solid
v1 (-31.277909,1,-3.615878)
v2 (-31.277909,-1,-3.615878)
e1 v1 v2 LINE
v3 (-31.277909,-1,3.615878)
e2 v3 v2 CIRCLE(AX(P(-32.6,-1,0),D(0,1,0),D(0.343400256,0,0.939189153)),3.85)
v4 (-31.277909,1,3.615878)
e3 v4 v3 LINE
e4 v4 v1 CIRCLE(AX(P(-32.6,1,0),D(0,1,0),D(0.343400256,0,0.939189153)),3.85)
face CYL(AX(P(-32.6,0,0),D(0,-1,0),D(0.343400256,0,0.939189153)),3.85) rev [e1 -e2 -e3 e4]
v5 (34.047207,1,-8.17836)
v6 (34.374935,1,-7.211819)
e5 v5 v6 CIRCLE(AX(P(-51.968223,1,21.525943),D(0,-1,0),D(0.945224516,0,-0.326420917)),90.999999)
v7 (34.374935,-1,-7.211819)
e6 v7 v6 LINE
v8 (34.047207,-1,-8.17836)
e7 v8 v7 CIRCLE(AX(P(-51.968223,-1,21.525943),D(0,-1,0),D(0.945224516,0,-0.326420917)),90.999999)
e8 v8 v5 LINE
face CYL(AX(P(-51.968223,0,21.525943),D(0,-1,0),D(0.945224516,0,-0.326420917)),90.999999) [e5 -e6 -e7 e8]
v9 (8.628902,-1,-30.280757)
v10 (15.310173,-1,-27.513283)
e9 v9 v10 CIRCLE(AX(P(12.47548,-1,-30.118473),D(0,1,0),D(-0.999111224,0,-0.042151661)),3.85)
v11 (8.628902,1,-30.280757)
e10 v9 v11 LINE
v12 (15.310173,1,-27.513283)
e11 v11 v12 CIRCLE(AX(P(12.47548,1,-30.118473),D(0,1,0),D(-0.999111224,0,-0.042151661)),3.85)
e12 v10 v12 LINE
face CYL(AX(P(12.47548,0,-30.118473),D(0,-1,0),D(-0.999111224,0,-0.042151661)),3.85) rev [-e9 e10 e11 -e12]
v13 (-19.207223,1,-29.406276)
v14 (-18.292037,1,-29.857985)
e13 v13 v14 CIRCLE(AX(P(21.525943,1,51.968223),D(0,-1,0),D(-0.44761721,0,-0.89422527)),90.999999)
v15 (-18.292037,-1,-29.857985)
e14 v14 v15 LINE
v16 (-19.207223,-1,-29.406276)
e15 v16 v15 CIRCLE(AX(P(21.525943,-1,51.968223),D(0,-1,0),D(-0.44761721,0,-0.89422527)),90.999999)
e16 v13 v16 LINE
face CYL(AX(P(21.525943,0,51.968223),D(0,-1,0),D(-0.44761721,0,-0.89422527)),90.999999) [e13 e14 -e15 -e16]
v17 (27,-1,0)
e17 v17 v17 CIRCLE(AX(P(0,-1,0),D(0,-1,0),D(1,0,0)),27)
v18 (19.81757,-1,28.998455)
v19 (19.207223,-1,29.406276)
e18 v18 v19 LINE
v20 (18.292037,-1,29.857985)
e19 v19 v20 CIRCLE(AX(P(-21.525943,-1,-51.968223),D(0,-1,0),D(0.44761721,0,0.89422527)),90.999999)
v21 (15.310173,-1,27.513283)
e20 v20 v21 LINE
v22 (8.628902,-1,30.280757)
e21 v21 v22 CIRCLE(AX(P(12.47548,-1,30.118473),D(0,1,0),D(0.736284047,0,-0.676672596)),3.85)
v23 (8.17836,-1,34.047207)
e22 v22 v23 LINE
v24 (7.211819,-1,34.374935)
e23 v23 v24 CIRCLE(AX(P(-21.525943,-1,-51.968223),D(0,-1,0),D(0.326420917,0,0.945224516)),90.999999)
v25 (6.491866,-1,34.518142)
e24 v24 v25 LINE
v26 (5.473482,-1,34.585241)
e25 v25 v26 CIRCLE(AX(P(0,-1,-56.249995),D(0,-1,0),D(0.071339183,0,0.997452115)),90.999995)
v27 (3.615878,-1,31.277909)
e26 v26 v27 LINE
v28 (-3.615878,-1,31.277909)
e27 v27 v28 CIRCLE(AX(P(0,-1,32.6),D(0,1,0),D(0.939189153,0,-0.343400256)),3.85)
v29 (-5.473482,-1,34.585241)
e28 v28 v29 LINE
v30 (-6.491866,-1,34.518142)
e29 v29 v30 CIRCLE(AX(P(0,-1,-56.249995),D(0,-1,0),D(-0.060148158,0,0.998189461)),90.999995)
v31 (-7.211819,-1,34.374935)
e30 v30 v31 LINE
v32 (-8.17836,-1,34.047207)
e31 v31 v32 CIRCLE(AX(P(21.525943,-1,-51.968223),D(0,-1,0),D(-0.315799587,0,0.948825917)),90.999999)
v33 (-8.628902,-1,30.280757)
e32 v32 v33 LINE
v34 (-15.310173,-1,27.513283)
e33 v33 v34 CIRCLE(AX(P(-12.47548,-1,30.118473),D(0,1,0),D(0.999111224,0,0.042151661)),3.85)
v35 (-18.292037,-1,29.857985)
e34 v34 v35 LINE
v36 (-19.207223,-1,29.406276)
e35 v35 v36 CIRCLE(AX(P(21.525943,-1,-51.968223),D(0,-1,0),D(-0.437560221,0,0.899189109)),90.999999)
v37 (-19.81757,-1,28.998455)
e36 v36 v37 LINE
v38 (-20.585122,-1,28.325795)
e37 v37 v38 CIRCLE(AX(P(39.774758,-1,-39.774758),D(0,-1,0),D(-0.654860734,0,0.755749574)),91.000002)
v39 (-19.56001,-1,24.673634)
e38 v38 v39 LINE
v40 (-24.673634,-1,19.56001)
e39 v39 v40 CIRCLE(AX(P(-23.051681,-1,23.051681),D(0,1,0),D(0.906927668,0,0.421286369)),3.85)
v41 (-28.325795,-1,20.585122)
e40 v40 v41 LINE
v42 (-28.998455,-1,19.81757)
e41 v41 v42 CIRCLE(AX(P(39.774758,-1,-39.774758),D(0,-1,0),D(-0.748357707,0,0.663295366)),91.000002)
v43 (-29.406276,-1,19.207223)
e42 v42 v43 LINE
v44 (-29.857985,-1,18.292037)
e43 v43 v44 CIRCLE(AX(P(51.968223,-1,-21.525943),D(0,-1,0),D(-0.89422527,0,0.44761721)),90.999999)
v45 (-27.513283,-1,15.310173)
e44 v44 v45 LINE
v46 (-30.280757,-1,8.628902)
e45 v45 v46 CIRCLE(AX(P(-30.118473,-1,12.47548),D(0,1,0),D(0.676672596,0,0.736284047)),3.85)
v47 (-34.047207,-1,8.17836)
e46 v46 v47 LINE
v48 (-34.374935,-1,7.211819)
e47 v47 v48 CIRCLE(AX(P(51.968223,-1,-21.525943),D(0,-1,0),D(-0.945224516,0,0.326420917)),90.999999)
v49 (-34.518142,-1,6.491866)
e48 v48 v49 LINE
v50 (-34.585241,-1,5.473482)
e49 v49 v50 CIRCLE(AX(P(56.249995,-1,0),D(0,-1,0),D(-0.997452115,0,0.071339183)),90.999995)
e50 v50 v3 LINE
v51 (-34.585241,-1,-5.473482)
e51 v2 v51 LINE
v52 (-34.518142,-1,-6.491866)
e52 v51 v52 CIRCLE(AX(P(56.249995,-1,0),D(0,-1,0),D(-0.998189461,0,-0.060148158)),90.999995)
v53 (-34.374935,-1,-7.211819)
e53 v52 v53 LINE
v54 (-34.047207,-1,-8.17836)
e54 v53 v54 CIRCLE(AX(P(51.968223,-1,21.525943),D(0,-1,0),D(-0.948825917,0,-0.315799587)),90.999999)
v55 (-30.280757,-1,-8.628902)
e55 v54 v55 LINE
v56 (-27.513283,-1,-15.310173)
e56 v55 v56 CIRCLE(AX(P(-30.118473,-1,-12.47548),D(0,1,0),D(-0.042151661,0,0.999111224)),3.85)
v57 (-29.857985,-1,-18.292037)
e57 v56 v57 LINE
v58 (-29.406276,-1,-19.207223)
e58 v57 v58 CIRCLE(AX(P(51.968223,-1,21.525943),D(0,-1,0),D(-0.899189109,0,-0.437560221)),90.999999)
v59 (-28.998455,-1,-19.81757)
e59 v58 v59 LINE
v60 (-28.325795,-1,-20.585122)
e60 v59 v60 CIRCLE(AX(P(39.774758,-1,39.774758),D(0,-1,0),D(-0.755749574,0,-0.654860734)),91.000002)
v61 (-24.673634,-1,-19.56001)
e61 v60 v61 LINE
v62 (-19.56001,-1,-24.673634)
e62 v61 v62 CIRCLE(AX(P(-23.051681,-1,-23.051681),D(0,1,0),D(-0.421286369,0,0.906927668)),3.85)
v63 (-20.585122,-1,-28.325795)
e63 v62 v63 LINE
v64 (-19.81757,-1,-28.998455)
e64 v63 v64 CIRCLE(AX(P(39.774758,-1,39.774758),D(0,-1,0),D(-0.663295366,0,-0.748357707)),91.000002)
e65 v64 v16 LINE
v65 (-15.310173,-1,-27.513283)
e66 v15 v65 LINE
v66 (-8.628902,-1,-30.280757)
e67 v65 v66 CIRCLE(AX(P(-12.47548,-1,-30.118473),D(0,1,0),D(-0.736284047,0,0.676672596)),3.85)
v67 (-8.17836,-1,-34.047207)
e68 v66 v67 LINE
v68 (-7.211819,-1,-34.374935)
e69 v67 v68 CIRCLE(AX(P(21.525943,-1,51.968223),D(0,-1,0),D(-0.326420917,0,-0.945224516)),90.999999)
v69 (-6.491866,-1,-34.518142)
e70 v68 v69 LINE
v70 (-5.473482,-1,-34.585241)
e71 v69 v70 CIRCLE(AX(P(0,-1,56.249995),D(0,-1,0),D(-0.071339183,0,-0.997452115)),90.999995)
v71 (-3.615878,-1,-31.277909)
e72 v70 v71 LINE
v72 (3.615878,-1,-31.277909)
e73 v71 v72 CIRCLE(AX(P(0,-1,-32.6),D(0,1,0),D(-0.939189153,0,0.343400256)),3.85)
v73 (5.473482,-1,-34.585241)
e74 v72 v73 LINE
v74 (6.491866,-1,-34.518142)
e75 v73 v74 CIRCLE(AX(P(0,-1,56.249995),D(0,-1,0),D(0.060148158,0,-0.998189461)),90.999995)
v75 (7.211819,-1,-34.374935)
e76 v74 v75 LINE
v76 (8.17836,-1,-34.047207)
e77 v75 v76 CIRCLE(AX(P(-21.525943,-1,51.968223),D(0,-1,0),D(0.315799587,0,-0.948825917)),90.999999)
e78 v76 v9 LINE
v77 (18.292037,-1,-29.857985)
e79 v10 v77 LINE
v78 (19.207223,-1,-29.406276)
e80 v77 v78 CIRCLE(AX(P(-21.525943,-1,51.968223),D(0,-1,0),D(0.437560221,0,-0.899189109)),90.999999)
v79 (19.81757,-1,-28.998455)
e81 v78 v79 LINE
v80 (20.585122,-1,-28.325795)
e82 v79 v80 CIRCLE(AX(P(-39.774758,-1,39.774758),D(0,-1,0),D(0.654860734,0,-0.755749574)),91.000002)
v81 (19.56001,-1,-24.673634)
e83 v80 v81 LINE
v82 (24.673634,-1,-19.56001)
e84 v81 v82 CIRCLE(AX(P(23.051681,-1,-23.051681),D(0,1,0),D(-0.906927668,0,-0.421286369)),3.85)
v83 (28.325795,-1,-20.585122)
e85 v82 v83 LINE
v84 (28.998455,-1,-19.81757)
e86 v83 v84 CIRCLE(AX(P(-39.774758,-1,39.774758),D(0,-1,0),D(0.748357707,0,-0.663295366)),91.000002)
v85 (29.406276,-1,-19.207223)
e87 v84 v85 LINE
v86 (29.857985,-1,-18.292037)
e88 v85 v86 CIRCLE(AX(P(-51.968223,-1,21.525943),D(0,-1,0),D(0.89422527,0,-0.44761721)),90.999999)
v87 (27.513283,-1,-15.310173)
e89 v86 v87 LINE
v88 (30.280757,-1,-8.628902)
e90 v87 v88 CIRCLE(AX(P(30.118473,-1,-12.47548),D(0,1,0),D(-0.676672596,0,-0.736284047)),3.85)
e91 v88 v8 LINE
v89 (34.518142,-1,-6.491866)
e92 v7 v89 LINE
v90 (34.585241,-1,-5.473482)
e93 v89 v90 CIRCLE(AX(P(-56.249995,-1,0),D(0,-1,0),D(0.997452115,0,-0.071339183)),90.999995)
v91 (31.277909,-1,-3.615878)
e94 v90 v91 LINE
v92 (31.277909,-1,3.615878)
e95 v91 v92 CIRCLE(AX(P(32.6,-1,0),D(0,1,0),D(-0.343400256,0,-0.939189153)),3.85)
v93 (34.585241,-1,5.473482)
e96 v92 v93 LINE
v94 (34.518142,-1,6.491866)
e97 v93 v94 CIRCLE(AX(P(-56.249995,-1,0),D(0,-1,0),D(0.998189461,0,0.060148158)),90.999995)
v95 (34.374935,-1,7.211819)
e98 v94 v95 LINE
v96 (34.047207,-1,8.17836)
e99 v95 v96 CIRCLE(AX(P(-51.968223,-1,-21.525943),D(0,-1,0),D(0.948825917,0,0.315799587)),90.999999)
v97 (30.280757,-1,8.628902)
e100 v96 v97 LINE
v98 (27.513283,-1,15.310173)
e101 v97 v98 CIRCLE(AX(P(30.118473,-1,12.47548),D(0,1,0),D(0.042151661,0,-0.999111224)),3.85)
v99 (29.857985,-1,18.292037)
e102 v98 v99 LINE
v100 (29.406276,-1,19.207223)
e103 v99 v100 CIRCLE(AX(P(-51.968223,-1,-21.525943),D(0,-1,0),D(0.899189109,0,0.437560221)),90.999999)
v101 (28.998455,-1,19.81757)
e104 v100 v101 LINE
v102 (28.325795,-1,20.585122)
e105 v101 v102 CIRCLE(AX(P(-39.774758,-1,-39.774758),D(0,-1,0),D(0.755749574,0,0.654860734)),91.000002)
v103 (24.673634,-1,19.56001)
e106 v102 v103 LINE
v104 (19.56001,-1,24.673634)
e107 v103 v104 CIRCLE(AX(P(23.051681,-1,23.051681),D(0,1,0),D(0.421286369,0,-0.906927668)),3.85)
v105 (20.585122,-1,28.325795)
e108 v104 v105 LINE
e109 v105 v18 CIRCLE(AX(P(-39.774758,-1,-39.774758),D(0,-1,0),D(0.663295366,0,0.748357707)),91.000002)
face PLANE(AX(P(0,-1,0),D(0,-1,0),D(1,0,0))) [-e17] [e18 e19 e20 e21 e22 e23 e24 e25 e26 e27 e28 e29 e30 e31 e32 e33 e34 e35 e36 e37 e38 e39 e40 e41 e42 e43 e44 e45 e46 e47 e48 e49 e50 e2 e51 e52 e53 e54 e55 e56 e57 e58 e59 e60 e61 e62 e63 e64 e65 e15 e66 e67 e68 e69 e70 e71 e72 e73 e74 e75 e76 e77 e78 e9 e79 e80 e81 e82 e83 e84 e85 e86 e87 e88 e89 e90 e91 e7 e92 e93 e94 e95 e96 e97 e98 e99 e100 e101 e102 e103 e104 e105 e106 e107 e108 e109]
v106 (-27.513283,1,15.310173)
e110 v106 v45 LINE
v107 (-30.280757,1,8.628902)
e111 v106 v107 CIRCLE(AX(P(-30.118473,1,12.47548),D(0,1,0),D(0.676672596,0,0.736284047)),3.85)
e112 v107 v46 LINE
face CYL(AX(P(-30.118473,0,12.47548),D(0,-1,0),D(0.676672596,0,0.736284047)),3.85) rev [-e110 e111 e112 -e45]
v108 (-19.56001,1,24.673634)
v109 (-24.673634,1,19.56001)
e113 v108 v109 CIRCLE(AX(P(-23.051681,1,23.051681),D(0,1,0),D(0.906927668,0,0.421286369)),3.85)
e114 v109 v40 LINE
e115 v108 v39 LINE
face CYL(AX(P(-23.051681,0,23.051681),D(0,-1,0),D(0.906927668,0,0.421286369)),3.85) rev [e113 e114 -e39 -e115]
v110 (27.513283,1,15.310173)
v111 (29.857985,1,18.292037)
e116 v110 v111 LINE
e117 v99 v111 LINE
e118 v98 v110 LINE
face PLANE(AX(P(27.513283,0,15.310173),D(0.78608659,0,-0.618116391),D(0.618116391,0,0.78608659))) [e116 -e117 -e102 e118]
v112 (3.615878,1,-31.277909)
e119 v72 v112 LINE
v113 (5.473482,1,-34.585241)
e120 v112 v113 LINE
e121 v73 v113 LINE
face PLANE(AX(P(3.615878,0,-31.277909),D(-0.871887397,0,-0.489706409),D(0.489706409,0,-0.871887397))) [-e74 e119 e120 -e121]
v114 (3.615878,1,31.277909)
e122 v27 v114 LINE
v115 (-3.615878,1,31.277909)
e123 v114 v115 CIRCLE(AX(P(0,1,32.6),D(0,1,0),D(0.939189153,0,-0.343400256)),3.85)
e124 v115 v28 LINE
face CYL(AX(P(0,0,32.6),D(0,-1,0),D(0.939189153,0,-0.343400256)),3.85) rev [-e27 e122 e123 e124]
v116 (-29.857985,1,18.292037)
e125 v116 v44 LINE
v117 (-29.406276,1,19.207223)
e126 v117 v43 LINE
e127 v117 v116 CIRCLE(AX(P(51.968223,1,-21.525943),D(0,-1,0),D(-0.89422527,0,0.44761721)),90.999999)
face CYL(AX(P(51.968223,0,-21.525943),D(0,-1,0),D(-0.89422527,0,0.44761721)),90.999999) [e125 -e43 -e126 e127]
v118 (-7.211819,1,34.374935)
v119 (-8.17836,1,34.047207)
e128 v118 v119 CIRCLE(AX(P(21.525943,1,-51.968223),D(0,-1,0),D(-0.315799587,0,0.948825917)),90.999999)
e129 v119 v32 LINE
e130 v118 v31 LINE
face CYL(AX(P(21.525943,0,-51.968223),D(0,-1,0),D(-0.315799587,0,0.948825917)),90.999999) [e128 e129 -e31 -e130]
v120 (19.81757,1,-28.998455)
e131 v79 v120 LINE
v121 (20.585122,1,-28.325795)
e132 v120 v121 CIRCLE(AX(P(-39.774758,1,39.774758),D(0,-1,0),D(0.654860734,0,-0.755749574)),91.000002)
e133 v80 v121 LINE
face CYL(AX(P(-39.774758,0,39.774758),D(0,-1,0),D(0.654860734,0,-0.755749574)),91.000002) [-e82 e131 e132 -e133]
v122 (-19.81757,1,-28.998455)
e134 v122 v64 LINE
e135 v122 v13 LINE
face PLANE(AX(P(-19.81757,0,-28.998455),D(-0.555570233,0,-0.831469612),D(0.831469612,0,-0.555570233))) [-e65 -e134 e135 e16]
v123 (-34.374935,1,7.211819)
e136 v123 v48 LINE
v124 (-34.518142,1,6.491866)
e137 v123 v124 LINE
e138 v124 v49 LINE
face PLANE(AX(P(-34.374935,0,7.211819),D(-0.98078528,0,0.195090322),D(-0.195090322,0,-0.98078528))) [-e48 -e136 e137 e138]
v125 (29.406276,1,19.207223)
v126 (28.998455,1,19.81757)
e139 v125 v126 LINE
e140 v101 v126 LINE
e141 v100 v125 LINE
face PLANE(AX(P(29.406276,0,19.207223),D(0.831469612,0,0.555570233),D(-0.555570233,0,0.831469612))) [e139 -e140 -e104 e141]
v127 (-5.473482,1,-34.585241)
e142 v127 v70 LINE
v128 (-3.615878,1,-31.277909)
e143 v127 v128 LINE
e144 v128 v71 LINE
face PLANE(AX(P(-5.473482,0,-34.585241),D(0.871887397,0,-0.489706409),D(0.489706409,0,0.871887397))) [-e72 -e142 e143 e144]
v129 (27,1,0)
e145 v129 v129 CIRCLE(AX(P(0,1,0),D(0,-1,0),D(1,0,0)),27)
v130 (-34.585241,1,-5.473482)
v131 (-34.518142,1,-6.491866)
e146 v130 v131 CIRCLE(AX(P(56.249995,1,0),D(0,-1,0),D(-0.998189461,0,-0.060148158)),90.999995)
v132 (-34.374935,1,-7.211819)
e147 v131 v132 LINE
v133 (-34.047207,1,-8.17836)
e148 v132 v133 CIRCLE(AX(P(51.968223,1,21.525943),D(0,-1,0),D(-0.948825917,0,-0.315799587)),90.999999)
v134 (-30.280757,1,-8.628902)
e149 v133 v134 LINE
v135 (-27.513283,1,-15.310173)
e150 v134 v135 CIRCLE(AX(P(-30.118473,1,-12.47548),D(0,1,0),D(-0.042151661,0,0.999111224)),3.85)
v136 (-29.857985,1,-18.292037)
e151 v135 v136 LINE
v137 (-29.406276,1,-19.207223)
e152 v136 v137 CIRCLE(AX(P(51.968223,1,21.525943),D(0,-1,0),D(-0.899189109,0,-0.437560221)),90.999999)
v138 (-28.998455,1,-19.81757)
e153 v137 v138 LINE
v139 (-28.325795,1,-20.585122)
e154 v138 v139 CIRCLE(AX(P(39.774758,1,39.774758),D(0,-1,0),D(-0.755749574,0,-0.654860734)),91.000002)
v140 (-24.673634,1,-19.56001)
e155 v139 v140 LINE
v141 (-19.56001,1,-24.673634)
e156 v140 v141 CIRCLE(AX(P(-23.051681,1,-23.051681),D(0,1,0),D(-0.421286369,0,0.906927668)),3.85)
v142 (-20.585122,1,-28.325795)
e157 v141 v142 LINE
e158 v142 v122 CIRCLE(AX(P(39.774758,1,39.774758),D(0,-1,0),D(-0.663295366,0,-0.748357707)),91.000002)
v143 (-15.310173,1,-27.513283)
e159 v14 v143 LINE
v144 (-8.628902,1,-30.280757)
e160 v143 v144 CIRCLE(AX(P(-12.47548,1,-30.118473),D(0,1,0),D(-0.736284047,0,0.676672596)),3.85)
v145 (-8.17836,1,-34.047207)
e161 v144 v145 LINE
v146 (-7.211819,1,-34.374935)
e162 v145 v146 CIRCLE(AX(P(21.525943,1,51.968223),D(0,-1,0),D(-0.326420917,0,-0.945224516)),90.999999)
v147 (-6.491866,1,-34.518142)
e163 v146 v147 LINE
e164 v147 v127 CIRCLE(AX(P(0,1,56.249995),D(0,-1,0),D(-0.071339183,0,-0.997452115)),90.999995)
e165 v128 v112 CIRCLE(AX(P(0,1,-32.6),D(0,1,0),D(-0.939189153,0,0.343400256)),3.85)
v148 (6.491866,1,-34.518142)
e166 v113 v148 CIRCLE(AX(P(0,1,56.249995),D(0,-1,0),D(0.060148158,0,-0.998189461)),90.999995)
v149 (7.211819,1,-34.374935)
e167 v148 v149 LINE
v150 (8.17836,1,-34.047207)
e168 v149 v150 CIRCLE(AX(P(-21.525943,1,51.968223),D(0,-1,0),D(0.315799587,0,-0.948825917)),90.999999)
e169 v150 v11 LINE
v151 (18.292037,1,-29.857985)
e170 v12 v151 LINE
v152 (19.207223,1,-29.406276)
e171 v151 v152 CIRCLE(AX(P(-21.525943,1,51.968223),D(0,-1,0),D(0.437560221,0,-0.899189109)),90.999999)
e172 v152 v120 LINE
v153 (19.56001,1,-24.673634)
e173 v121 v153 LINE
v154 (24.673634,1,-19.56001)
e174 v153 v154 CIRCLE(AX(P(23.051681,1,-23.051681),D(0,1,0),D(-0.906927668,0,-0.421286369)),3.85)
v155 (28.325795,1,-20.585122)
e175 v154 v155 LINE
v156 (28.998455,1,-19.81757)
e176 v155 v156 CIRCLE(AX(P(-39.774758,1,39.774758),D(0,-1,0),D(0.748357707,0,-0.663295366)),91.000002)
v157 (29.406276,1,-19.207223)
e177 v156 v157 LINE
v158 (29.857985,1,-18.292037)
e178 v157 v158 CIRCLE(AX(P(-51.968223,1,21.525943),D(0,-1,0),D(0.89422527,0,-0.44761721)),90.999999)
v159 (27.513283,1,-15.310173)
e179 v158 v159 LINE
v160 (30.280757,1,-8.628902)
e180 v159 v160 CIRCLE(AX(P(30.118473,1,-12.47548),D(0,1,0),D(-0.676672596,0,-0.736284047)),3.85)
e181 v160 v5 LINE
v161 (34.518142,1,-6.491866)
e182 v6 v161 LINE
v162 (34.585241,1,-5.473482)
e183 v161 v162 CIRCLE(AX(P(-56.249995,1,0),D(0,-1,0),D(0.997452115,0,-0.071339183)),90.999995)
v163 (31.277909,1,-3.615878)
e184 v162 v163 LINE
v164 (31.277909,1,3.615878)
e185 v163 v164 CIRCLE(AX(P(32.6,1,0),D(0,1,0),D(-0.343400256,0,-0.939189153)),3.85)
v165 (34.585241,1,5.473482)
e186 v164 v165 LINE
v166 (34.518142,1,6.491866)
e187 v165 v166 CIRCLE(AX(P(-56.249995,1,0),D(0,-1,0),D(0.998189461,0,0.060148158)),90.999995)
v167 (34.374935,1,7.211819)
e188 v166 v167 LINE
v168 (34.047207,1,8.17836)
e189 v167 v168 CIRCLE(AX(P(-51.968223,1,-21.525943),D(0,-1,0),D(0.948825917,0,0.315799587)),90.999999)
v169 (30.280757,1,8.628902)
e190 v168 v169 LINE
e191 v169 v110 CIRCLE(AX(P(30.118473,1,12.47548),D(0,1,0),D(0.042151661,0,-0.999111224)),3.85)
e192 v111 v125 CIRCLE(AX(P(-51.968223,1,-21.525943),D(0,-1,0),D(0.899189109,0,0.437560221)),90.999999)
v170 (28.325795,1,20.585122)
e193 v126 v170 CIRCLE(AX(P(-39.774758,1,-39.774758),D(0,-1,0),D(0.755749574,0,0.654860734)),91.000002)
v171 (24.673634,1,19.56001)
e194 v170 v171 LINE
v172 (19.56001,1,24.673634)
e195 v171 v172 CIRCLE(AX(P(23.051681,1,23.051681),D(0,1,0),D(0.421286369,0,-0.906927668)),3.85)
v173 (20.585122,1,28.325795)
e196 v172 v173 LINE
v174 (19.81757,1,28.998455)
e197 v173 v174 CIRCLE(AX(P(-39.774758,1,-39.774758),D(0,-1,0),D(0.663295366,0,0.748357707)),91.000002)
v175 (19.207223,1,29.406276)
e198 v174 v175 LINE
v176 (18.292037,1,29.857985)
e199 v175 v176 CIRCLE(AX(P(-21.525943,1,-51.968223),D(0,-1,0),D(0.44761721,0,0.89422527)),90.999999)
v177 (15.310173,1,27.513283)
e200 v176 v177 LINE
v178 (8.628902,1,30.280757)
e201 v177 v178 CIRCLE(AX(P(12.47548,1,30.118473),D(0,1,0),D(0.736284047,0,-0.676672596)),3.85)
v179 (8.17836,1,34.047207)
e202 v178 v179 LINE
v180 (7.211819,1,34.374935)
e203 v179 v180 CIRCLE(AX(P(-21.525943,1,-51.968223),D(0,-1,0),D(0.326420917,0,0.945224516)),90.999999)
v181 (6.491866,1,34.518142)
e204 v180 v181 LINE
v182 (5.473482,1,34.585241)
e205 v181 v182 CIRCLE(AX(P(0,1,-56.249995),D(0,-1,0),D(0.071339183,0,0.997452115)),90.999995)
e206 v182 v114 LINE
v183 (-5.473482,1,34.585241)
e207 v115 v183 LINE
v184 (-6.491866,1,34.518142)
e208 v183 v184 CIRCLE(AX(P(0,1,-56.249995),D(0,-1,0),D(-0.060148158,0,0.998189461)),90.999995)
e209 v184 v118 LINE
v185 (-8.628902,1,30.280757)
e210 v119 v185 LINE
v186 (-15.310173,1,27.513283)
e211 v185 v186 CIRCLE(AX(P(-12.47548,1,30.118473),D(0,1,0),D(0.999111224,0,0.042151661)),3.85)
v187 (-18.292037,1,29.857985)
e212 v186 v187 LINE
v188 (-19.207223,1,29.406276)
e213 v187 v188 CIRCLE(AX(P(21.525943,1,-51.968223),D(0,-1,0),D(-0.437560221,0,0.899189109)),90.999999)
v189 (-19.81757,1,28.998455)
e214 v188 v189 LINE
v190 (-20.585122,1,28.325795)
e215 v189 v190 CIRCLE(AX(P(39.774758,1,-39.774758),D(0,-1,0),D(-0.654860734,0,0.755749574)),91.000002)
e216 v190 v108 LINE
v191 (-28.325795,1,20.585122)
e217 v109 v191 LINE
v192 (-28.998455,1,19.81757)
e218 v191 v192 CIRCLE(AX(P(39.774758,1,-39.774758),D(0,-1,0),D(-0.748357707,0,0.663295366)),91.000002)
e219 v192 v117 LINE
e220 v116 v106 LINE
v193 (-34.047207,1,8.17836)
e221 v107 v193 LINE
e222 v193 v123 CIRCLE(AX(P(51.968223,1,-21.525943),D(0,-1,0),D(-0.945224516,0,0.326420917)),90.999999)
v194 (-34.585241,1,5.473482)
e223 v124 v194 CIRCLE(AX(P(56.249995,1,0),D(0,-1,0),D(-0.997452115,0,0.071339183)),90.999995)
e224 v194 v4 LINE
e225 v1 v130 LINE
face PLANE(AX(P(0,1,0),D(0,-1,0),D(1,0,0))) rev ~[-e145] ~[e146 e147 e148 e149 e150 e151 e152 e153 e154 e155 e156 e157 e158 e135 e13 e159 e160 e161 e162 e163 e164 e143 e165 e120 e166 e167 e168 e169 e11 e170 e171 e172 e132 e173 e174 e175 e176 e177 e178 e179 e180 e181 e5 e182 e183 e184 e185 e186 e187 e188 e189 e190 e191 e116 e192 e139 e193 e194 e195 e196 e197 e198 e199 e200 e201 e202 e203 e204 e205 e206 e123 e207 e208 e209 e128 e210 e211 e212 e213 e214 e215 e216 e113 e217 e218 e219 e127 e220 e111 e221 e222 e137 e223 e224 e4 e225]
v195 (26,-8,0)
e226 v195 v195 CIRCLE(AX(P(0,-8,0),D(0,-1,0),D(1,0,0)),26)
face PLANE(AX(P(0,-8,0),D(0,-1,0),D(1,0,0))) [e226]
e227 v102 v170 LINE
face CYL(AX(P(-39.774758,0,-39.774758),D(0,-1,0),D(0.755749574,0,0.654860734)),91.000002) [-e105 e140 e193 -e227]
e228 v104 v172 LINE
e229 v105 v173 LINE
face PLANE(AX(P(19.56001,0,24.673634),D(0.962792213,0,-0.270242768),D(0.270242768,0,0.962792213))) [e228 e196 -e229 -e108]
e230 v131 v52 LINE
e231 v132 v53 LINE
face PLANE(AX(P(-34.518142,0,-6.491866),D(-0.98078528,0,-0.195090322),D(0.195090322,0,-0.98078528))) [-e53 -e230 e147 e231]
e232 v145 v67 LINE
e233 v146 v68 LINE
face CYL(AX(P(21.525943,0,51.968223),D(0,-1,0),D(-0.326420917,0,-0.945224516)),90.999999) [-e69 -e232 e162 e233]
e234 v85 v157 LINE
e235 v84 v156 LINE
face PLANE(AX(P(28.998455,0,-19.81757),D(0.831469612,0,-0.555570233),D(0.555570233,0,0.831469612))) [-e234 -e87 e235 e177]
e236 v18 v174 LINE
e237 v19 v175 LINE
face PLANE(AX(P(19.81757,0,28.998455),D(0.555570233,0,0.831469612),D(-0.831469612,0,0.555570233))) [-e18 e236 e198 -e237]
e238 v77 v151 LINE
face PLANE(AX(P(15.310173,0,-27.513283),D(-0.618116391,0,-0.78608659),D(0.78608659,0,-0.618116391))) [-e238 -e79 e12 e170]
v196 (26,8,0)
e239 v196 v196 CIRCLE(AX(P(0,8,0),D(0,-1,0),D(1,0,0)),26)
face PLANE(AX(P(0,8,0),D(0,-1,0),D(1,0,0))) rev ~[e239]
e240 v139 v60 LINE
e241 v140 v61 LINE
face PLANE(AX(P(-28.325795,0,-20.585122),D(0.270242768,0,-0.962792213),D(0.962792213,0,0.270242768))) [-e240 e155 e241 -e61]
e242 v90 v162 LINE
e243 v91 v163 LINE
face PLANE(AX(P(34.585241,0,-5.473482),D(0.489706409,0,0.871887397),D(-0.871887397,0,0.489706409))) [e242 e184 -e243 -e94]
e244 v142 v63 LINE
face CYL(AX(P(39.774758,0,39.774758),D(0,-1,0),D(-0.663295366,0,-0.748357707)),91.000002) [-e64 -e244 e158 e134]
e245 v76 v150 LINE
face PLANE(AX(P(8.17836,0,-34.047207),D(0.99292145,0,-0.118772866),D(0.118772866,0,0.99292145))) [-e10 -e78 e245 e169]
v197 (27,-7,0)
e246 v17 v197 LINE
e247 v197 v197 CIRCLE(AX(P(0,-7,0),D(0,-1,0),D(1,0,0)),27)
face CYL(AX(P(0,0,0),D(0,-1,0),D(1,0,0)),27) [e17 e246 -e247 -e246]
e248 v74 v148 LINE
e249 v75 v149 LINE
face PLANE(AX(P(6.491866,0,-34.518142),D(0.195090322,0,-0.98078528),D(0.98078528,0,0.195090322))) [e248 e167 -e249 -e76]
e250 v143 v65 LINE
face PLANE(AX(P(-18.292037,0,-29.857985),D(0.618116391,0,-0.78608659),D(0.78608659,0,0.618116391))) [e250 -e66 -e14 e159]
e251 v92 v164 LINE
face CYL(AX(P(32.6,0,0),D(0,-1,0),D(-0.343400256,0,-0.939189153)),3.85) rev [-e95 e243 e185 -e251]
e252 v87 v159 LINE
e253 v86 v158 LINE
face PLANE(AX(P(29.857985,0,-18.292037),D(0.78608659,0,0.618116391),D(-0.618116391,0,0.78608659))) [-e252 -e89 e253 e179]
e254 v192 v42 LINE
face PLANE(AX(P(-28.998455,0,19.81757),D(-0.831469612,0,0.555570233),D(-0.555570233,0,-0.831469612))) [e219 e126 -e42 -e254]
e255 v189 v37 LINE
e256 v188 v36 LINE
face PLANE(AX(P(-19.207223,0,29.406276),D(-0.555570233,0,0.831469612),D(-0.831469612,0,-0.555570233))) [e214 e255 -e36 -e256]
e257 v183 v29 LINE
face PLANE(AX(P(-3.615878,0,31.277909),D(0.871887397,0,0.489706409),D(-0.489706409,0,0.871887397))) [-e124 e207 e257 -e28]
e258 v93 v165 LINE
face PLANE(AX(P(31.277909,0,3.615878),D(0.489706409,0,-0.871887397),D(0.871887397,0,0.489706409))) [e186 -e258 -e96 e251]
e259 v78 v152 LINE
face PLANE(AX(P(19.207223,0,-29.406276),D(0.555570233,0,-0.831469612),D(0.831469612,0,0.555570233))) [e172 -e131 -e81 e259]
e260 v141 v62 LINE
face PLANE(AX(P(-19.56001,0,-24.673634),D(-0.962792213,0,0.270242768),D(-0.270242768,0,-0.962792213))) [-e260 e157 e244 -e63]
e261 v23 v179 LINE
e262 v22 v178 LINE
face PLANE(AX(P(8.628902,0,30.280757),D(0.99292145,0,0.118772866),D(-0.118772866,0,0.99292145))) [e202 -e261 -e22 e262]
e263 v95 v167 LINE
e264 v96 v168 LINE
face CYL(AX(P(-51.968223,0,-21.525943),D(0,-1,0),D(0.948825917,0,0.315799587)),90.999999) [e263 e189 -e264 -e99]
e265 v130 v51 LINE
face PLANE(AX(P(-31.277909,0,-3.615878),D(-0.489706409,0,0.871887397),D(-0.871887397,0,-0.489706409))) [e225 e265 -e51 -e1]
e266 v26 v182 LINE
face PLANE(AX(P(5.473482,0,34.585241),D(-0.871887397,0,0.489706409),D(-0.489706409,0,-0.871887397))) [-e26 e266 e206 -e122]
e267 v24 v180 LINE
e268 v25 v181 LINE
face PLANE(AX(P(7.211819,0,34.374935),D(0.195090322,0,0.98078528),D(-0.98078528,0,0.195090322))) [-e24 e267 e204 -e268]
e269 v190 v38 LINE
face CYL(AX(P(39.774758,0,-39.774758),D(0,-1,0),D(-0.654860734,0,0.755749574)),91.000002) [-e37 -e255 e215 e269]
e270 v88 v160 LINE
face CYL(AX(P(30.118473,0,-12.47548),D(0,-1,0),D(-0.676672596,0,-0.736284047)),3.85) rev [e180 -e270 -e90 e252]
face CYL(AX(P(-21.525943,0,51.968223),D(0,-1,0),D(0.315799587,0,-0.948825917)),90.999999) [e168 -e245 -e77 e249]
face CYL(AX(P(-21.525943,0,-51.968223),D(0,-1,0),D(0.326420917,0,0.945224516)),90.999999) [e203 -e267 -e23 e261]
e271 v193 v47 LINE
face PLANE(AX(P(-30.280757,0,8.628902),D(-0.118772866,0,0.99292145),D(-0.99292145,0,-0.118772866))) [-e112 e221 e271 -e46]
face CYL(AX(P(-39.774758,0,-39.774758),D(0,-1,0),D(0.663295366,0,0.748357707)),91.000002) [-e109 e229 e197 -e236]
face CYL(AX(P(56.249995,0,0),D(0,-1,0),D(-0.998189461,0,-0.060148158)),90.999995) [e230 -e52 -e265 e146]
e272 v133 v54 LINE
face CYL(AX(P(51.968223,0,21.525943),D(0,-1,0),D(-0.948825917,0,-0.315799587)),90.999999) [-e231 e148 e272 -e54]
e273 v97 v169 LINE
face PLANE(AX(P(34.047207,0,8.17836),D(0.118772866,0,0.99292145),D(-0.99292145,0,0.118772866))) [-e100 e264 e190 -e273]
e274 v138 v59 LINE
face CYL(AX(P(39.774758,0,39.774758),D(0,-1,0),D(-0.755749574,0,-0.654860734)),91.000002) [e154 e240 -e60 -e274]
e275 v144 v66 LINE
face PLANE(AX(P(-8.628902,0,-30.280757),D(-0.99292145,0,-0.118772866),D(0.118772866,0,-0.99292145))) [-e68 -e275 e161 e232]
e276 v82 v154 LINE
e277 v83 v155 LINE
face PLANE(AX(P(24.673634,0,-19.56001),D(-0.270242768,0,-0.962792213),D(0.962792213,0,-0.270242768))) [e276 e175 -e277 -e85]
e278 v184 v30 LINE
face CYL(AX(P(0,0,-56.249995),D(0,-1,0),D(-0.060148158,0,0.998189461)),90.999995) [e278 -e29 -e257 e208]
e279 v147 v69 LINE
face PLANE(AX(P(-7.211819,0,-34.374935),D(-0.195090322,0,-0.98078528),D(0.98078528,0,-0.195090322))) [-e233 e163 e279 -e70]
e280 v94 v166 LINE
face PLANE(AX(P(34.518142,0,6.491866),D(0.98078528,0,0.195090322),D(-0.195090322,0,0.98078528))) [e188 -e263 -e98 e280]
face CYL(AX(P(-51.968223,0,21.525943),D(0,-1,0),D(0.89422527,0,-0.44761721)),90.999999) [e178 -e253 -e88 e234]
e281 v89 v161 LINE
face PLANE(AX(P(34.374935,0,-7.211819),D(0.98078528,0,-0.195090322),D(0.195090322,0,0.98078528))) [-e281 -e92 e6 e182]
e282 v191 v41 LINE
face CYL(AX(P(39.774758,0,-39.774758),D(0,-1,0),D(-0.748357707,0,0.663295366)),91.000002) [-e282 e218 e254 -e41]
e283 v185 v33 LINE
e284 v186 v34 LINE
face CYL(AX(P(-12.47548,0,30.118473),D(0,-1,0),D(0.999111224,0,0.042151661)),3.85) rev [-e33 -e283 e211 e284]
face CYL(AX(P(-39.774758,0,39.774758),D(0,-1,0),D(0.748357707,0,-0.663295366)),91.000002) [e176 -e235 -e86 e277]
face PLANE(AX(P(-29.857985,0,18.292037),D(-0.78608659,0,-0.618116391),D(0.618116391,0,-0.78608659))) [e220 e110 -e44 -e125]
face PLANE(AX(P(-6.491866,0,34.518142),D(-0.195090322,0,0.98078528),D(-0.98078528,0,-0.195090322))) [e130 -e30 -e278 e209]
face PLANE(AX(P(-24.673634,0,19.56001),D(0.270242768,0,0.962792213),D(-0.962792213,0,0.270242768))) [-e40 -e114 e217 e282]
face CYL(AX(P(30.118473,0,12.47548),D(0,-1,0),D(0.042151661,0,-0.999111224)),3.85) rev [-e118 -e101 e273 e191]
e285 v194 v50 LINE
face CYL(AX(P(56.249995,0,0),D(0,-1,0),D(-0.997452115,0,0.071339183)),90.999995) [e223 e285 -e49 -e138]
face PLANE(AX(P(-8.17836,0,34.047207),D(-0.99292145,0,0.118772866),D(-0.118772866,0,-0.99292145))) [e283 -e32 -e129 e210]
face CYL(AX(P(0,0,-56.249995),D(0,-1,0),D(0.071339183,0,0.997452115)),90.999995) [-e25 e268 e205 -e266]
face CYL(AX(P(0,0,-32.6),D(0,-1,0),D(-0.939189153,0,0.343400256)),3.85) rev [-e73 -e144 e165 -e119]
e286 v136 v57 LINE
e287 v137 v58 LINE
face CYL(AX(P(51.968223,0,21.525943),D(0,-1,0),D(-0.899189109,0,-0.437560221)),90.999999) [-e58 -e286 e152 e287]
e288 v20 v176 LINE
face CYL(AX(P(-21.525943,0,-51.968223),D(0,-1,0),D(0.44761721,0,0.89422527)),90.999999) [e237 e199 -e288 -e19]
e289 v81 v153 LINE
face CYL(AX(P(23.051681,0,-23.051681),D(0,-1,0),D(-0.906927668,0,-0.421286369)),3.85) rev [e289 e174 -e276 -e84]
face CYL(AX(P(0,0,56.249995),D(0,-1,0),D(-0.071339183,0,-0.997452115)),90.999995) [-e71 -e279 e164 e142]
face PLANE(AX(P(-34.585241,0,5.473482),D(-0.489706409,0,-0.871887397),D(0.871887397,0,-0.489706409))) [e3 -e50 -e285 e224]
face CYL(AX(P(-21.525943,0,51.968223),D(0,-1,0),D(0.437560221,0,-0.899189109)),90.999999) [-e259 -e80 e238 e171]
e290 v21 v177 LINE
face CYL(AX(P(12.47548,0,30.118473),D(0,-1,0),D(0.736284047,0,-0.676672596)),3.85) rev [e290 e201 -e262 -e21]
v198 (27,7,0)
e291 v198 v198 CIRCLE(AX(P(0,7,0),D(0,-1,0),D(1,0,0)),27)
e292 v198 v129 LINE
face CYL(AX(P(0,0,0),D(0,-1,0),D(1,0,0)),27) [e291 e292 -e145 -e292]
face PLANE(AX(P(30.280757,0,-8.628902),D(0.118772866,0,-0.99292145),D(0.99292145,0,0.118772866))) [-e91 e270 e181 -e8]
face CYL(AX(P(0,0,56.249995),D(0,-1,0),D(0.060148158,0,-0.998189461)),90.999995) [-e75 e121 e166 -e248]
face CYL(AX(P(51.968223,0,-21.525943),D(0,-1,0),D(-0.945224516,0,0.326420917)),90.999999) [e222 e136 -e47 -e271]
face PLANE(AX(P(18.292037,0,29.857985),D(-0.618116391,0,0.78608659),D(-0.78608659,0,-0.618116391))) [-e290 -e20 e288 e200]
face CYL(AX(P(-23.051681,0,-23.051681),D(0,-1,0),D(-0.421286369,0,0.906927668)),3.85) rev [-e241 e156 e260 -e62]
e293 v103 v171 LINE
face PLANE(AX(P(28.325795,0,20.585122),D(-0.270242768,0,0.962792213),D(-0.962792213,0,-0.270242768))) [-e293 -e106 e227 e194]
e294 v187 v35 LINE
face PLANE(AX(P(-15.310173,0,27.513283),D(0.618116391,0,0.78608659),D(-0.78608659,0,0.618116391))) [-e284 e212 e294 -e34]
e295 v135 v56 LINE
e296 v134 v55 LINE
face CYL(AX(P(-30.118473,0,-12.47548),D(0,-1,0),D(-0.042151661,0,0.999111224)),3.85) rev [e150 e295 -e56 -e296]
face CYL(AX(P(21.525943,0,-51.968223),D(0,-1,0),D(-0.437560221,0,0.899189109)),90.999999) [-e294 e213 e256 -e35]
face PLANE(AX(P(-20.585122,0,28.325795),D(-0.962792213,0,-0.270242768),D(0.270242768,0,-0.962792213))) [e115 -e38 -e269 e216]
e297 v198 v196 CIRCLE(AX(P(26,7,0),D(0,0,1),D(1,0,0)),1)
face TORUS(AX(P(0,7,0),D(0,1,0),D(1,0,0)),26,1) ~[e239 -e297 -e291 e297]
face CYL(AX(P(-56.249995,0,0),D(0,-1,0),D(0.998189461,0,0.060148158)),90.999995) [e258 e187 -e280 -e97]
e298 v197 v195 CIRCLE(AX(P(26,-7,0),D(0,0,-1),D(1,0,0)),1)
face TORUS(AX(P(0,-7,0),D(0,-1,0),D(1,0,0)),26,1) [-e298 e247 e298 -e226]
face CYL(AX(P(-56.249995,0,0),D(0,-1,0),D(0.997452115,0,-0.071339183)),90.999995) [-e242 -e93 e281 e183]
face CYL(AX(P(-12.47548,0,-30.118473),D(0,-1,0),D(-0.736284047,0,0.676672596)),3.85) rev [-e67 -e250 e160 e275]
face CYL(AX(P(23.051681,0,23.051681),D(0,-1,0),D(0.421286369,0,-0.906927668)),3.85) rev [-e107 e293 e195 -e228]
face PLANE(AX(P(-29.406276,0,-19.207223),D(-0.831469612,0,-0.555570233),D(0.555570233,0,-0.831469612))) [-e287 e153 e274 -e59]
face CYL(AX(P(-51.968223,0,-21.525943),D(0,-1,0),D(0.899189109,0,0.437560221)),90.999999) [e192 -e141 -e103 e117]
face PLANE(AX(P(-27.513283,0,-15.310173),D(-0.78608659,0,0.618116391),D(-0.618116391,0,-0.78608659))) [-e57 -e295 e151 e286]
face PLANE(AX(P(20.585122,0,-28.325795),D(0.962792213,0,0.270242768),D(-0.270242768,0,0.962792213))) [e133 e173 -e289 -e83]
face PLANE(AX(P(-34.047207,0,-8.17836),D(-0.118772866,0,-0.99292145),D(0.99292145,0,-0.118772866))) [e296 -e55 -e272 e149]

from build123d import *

# Parameters (mm, degrees)
F0_R     = 27
F1_DEPTH = 1
F2_DEPTH = 8
F3_R     = 1


with BuildPart() as f1:
    # F0 (on Front) → F1 (new body, symmetric)
    with BuildSketch(Plane.XZ):
        with BuildLine():
            ThreePointArc((3.6158782374, 31.2779090152), (0, 28.75), (-3.6158782374, 31.2779090152))
            Line((-3.6158782374, 31.2779090152), (-5.4734823617, 34.5852409081))
            ThreePointArc((-5.4734823617, 34.5852409081), (-5.9827680833, 34.5531193631), (-6.4918656711, 34.5181424295))
            Line((-6.4918656711, 34.5181424295), (-7.2118194024, 34.3749347284))
            ThreePointArc((-7.2118194024, 34.3749347284), (-7.6955493369, 34.2124259891), (-8.1783603743, 34.0472072192))
            Line((-8.1783603743, 34.0472072192), (-8.6289016835, 30.2807566538))
            ThreePointArc((-8.6289016835, 30.2807566538), (-11.0021486805, 26.5615365597), (-15.3101734747, 27.513283264))
            Line((-15.3101734747, 27.513283264), (-18.2920370254, 29.8579851848))
            ThreePointArc((-18.2920370254, 29.8579851848), (-18.7502632967, 29.6334135388), (-19.2072230452, 29.4062758535))
            Line((-19.2072230452, 29.4062758535), (-19.8175703473, 28.9984548245))
            ThreePointArc((-19.8175703473, 28.9984548245), (-20.2022891308, 28.6632008947), (-20.5851218804, 28.3257948698))
            Line((-20.5851218804, 28.3257948698), (-19.5600095444, 24.6736335876))
            ThreePointArc((-19.5600095444, 24.6736335876), (-20.3293199591, 20.3293199591), (-24.6736335876, 19.5600095444))
            Line((-24.6736335876, 19.5600095444), (-28.3257948698, 20.5851218804))
            ThreePointArc((-28.3257948698, 20.5851218804), (-28.6632008947, 20.2022891308), (-28.9984548245, 19.8175703473))
            Line((-28.9984548245, 19.8175703473), (-29.4062758535, 19.2072230452))
            ThreePointArc((-29.4062758535, 19.2072230452), (-29.6334135388, 18.7502632967), (-29.8579851848, 18.2920370254))
            Line((-29.8579851848, 18.2920370254), (-27.513283264, 15.3101734747))
            ThreePointArc((-27.513283264, 15.3101734747), (-26.5615365597, 11.0021486805), (-30.2807566538, 8.6289016835))
            Line((-30.2807566538, 8.6289016835), (-34.0472072192, 8.1783603743))
            ThreePointArc((-34.0472072192, 8.1783603743), (-34.2124259891, 7.6955493369), (-34.3749347284, 7.2118194024))
            Line((-34.3749347284, 7.2118194024), (-34.5181424295, 6.4918656711))
            ThreePointArc((-34.5181424295, 6.4918656711), (-34.5531193631, 5.9827680833), (-34.5852409081, 5.4734823617))
            Line((-34.5852409081, 5.4734823617), (-31.2779090152, 3.6158782374))
            ThreePointArc((-31.2779090152, 3.6158782374), (-28.75, 0), (-31.2779090152, -3.6158782374))
            Line((-31.2779090152, -3.6158782374), (-34.5852409081, -5.4734823617))
            ThreePointArc((-34.5852409081, -5.4734823617), (-34.5531193631, -5.9827680833), (-34.5181424295, -6.4918656711))
            Line((-34.5181424295, -6.4918656711), (-34.3749347284, -7.2118194024))
            ThreePointArc((-34.3749347284, -7.2118194024), (-34.2124259891, -7.6955493369), (-34.0472072192, -8.1783603743))
            Line((-34.0472072192, -8.1783603743), (-30.2807566538, -8.6289016835))
            ThreePointArc((-30.2807566538, -8.6289016835), (-26.5615365597, -11.0021486805), (-27.513283264, -15.3101734747))
            Line((-27.513283264, -15.3101734747), (-29.8579851848, -18.2920370254))
            ThreePointArc((-29.8579851848, -18.2920370254), (-29.6334135388, -18.7502632967), (-29.4062758535, -19.2072230452))
            Line((-29.4062758535, -19.2072230452), (-28.9984548245, -19.8175703473))
            ThreePointArc((-28.9984548245, -19.8175703473), (-28.6632008947, -20.2022891308), (-28.3257948698, -20.5851218804))
            Line((-28.3257948698, -20.5851218804), (-24.6736335876, -19.5600095444))
            ThreePointArc((-24.6736335876, -19.5600095444), (-20.3293199591, -20.3293199591), (-19.5600095444, -24.6736335876))
            Line((-19.5600095444, -24.6736335876), (-20.5851218804, -28.3257948698))
            ThreePointArc((-20.5851218804, -28.3257948698), (-20.2022891308, -28.6632008947), (-19.8175703473, -28.9984548245))
            Line((-19.8175703473, -28.9984548245), (-19.2072230452, -29.4062758535))
            ThreePointArc((-19.2072230452, -29.4062758535), (-18.7502632967, -29.6334135388), (-18.2920370254, -29.8579851848))
            Line((-18.2920370254, -29.8579851848), (-15.3101734747, -27.513283264))
            ThreePointArc((-15.3101734747, -27.513283264), (-11.0021486805, -26.5615365597), (-8.6289016835, -30.2807566538))
            Line((-8.6289016835, -30.2807566538), (-8.1783603743, -34.0472072192))
            ThreePointArc((-8.1783603743, -34.0472072192), (-7.6955493369, -34.2124259891), (-7.2118194024, -34.3749347284))
            Line((-7.2118194024, -34.3749347284), (-6.4918656711, -34.5181424295))
            ThreePointArc((-6.4918656711, -34.5181424295), (-5.9827680833, -34.5531193631), (-5.4734823617, -34.5852409081))
            Line((-5.4734823617, -34.5852409081), (-3.6158782374, -31.2779090152))
            ThreePointArc((-3.6158782374, -31.2779090152), (0, -28.75), (3.6158782374, -31.2779090152))
            Line((3.6158782374, -31.2779090152), (5.4734823617, -34.5852409081))
            ThreePointArc((5.4734823617, -34.5852409081), (5.9827680833, -34.5531193631), (6.4918656711, -34.5181424295))
            Line((6.4918656711, -34.5181424295), (7.2118194024, -34.3749347284))
            ThreePointArc((7.2118194024, -34.3749347284), (7.6955493369, -34.2124259891), (8.1783603743, -34.0472072192))
            Line((8.1783603743, -34.0472072192), (8.6289016835, -30.2807566538))
            ThreePointArc((8.6289016835, -30.2807566538), (11.0021486805, -26.5615365597), (15.3101734747, -27.513283264))
            Line((15.3101734747, -27.513283264), (18.2920370254, -29.8579851848))
            ThreePointArc((18.2920370254, -29.8579851848), (18.7502632967, -29.6334135388), (19.2072230452, -29.4062758535))
            Line((19.2072230452, -29.4062758535), (19.8175703473, -28.9984548245))
            ThreePointArc((19.8175703473, -28.9984548245), (20.2022891308, -28.6632008947), (20.5851218804, -28.3257948698))
            Line((20.5851218804, -28.3257948698), (19.5600095444, -24.6736335876))
            ThreePointArc((19.5600095444, -24.6736335876), (20.3293199591, -20.3293199591), (24.6736335876, -19.5600095444))
            Line((24.6736335876, -19.5600095444), (28.3257948698, -20.5851218804))
            ThreePointArc((28.3257948698, -20.5851218804), (28.6632008947, -20.2022891308), (28.9984548245, -19.8175703473))
            Line((28.9984548245, -19.8175703473), (29.4062758535, -19.2072230452))
            ThreePointArc((29.4062758535, -19.2072230452), (29.6334135388, -18.7502632967), (29.8579851848, -18.2920370254))
            Line((29.8579851848, -18.2920370254), (27.513283264, -15.3101734747))
            ThreePointArc((27.513283264, -15.3101734747), (26.5615365597, -11.0021486805), (30.2807566538, -8.6289016835))
            Line((30.2807566538, -8.6289016835), (34.0472072192, -8.1783603743))
            ThreePointArc((34.0472072192, -8.1783603743), (34.2124259891, -7.6955493369), (34.3749347284, -7.2118194024))
            Line((34.3749347284, -7.2118194024), (34.5181424295, -6.4918656711))
            ThreePointArc((34.5181424295, -6.4918656711), (34.5531193631, -5.9827680833), (34.5852409081, -5.4734823617))
            Line((34.5852409081, -5.4734823617), (31.2779090152, -3.6158782374))
            ThreePointArc((31.2779090152, -3.6158782374), (28.75, 0), (31.2779090152, 3.6158782374))
            Line((31.2779090152, 3.6158782374), (34.5852409081, 5.4734823617))
            ThreePointArc((34.5852409081, 5.4734823617), (34.5531193631, 5.9827680833), (34.5181424295, 6.4918656711))
            Line((34.5181424295, 6.4918656711), (34.3749347284, 7.2118194024))
            ThreePointArc((34.3749347284, 7.2118194024), (34.2124259891, 7.6955493369), (34.0472072192, 8.1783603743))
            Line((34.0472072192, 8.1783603743), (30.2807566538, 8.6289016835))
            ThreePointArc((30.2807566538, 8.6289016835), (26.5615365597, 11.0021486805), (27.513283264, 15.3101734747))
            Line((27.513283264, 15.3101734747), (29.8579851848, 18.2920370254))
            ThreePointArc((29.8579851848, 18.2920370254), (29.6334135388, 18.7502632967), (29.4062758535, 19.2072230452))
            Line((29.4062758535, 19.2072230452), (28.9984548245, 19.8175703473))
            ThreePointArc((28.9984548245, 19.8175703473), (28.6632008947, 20.2022891308), (28.3257948698, 20.5851218804))
            Line((28.3257948698, 20.5851218804), (24.6736335876, 19.5600095444))
            ThreePointArc((24.6736335876, 19.5600095444), (20.3293199591, 20.3293199591), (19.5600095444, 24.6736335876))
            Line((19.5600095444, 24.6736335876), (20.5851218804, 28.3257948698))
            ThreePointArc((20.5851218804, 28.3257948698), (20.2022891308, 28.6632008947), (19.8175703473, 28.9984548245))
            Line((19.8175703473, 28.9984548245), (19.2072230452, 29.4062758535))
            ThreePointArc((19.2072230452, 29.4062758535), (18.7502632967, 29.6334135388), (18.2920370254, 29.8579851848))
            Line((18.2920370254, 29.8579851848), (15.3101734747, 27.513283264))
            ThreePointArc((15.3101734747, 27.513283264), (11.0021486805, 26.5615365597), (8.6289016835, 30.2807566538))
            Line((8.6289016835, 30.2807566538), (8.1783603743, 34.0472072192))
            ThreePointArc((8.1783603743, 34.0472072192), (7.6955493369, 34.2124259891), (7.2118194024, 34.3749347284))
            Line((7.2118194024, 34.3749347284), (6.4918656711, 34.5181424295))
            ThreePointArc((6.4918656711, 34.5181424295), (5.9827680833, 34.5531193631), (5.4734823617, 34.5852409081))
            Line((5.4734823617, 34.5852409081), (3.6158782374, 31.2779090152))
        make_face()
        Circle(F0_R, mode=Mode.SUBTRACT)
    extrude(amount=F1_DEPTH, both=True)

    # F0 (on Front) → F2 (join, symmetric)
    with BuildSketch(Plane.XZ):
        Circle(F0_R)
    extrude(amount=F2_DEPTH, both=True)

    # F3
    f3_edges = [f1.edges().sort_by_distance(p)[0] for p in [
        (-27, -8, 0),
        (-27, 8, 0),
    ]]
    fillet(f3_edges, radius=F3_R)


solid = f1.part
